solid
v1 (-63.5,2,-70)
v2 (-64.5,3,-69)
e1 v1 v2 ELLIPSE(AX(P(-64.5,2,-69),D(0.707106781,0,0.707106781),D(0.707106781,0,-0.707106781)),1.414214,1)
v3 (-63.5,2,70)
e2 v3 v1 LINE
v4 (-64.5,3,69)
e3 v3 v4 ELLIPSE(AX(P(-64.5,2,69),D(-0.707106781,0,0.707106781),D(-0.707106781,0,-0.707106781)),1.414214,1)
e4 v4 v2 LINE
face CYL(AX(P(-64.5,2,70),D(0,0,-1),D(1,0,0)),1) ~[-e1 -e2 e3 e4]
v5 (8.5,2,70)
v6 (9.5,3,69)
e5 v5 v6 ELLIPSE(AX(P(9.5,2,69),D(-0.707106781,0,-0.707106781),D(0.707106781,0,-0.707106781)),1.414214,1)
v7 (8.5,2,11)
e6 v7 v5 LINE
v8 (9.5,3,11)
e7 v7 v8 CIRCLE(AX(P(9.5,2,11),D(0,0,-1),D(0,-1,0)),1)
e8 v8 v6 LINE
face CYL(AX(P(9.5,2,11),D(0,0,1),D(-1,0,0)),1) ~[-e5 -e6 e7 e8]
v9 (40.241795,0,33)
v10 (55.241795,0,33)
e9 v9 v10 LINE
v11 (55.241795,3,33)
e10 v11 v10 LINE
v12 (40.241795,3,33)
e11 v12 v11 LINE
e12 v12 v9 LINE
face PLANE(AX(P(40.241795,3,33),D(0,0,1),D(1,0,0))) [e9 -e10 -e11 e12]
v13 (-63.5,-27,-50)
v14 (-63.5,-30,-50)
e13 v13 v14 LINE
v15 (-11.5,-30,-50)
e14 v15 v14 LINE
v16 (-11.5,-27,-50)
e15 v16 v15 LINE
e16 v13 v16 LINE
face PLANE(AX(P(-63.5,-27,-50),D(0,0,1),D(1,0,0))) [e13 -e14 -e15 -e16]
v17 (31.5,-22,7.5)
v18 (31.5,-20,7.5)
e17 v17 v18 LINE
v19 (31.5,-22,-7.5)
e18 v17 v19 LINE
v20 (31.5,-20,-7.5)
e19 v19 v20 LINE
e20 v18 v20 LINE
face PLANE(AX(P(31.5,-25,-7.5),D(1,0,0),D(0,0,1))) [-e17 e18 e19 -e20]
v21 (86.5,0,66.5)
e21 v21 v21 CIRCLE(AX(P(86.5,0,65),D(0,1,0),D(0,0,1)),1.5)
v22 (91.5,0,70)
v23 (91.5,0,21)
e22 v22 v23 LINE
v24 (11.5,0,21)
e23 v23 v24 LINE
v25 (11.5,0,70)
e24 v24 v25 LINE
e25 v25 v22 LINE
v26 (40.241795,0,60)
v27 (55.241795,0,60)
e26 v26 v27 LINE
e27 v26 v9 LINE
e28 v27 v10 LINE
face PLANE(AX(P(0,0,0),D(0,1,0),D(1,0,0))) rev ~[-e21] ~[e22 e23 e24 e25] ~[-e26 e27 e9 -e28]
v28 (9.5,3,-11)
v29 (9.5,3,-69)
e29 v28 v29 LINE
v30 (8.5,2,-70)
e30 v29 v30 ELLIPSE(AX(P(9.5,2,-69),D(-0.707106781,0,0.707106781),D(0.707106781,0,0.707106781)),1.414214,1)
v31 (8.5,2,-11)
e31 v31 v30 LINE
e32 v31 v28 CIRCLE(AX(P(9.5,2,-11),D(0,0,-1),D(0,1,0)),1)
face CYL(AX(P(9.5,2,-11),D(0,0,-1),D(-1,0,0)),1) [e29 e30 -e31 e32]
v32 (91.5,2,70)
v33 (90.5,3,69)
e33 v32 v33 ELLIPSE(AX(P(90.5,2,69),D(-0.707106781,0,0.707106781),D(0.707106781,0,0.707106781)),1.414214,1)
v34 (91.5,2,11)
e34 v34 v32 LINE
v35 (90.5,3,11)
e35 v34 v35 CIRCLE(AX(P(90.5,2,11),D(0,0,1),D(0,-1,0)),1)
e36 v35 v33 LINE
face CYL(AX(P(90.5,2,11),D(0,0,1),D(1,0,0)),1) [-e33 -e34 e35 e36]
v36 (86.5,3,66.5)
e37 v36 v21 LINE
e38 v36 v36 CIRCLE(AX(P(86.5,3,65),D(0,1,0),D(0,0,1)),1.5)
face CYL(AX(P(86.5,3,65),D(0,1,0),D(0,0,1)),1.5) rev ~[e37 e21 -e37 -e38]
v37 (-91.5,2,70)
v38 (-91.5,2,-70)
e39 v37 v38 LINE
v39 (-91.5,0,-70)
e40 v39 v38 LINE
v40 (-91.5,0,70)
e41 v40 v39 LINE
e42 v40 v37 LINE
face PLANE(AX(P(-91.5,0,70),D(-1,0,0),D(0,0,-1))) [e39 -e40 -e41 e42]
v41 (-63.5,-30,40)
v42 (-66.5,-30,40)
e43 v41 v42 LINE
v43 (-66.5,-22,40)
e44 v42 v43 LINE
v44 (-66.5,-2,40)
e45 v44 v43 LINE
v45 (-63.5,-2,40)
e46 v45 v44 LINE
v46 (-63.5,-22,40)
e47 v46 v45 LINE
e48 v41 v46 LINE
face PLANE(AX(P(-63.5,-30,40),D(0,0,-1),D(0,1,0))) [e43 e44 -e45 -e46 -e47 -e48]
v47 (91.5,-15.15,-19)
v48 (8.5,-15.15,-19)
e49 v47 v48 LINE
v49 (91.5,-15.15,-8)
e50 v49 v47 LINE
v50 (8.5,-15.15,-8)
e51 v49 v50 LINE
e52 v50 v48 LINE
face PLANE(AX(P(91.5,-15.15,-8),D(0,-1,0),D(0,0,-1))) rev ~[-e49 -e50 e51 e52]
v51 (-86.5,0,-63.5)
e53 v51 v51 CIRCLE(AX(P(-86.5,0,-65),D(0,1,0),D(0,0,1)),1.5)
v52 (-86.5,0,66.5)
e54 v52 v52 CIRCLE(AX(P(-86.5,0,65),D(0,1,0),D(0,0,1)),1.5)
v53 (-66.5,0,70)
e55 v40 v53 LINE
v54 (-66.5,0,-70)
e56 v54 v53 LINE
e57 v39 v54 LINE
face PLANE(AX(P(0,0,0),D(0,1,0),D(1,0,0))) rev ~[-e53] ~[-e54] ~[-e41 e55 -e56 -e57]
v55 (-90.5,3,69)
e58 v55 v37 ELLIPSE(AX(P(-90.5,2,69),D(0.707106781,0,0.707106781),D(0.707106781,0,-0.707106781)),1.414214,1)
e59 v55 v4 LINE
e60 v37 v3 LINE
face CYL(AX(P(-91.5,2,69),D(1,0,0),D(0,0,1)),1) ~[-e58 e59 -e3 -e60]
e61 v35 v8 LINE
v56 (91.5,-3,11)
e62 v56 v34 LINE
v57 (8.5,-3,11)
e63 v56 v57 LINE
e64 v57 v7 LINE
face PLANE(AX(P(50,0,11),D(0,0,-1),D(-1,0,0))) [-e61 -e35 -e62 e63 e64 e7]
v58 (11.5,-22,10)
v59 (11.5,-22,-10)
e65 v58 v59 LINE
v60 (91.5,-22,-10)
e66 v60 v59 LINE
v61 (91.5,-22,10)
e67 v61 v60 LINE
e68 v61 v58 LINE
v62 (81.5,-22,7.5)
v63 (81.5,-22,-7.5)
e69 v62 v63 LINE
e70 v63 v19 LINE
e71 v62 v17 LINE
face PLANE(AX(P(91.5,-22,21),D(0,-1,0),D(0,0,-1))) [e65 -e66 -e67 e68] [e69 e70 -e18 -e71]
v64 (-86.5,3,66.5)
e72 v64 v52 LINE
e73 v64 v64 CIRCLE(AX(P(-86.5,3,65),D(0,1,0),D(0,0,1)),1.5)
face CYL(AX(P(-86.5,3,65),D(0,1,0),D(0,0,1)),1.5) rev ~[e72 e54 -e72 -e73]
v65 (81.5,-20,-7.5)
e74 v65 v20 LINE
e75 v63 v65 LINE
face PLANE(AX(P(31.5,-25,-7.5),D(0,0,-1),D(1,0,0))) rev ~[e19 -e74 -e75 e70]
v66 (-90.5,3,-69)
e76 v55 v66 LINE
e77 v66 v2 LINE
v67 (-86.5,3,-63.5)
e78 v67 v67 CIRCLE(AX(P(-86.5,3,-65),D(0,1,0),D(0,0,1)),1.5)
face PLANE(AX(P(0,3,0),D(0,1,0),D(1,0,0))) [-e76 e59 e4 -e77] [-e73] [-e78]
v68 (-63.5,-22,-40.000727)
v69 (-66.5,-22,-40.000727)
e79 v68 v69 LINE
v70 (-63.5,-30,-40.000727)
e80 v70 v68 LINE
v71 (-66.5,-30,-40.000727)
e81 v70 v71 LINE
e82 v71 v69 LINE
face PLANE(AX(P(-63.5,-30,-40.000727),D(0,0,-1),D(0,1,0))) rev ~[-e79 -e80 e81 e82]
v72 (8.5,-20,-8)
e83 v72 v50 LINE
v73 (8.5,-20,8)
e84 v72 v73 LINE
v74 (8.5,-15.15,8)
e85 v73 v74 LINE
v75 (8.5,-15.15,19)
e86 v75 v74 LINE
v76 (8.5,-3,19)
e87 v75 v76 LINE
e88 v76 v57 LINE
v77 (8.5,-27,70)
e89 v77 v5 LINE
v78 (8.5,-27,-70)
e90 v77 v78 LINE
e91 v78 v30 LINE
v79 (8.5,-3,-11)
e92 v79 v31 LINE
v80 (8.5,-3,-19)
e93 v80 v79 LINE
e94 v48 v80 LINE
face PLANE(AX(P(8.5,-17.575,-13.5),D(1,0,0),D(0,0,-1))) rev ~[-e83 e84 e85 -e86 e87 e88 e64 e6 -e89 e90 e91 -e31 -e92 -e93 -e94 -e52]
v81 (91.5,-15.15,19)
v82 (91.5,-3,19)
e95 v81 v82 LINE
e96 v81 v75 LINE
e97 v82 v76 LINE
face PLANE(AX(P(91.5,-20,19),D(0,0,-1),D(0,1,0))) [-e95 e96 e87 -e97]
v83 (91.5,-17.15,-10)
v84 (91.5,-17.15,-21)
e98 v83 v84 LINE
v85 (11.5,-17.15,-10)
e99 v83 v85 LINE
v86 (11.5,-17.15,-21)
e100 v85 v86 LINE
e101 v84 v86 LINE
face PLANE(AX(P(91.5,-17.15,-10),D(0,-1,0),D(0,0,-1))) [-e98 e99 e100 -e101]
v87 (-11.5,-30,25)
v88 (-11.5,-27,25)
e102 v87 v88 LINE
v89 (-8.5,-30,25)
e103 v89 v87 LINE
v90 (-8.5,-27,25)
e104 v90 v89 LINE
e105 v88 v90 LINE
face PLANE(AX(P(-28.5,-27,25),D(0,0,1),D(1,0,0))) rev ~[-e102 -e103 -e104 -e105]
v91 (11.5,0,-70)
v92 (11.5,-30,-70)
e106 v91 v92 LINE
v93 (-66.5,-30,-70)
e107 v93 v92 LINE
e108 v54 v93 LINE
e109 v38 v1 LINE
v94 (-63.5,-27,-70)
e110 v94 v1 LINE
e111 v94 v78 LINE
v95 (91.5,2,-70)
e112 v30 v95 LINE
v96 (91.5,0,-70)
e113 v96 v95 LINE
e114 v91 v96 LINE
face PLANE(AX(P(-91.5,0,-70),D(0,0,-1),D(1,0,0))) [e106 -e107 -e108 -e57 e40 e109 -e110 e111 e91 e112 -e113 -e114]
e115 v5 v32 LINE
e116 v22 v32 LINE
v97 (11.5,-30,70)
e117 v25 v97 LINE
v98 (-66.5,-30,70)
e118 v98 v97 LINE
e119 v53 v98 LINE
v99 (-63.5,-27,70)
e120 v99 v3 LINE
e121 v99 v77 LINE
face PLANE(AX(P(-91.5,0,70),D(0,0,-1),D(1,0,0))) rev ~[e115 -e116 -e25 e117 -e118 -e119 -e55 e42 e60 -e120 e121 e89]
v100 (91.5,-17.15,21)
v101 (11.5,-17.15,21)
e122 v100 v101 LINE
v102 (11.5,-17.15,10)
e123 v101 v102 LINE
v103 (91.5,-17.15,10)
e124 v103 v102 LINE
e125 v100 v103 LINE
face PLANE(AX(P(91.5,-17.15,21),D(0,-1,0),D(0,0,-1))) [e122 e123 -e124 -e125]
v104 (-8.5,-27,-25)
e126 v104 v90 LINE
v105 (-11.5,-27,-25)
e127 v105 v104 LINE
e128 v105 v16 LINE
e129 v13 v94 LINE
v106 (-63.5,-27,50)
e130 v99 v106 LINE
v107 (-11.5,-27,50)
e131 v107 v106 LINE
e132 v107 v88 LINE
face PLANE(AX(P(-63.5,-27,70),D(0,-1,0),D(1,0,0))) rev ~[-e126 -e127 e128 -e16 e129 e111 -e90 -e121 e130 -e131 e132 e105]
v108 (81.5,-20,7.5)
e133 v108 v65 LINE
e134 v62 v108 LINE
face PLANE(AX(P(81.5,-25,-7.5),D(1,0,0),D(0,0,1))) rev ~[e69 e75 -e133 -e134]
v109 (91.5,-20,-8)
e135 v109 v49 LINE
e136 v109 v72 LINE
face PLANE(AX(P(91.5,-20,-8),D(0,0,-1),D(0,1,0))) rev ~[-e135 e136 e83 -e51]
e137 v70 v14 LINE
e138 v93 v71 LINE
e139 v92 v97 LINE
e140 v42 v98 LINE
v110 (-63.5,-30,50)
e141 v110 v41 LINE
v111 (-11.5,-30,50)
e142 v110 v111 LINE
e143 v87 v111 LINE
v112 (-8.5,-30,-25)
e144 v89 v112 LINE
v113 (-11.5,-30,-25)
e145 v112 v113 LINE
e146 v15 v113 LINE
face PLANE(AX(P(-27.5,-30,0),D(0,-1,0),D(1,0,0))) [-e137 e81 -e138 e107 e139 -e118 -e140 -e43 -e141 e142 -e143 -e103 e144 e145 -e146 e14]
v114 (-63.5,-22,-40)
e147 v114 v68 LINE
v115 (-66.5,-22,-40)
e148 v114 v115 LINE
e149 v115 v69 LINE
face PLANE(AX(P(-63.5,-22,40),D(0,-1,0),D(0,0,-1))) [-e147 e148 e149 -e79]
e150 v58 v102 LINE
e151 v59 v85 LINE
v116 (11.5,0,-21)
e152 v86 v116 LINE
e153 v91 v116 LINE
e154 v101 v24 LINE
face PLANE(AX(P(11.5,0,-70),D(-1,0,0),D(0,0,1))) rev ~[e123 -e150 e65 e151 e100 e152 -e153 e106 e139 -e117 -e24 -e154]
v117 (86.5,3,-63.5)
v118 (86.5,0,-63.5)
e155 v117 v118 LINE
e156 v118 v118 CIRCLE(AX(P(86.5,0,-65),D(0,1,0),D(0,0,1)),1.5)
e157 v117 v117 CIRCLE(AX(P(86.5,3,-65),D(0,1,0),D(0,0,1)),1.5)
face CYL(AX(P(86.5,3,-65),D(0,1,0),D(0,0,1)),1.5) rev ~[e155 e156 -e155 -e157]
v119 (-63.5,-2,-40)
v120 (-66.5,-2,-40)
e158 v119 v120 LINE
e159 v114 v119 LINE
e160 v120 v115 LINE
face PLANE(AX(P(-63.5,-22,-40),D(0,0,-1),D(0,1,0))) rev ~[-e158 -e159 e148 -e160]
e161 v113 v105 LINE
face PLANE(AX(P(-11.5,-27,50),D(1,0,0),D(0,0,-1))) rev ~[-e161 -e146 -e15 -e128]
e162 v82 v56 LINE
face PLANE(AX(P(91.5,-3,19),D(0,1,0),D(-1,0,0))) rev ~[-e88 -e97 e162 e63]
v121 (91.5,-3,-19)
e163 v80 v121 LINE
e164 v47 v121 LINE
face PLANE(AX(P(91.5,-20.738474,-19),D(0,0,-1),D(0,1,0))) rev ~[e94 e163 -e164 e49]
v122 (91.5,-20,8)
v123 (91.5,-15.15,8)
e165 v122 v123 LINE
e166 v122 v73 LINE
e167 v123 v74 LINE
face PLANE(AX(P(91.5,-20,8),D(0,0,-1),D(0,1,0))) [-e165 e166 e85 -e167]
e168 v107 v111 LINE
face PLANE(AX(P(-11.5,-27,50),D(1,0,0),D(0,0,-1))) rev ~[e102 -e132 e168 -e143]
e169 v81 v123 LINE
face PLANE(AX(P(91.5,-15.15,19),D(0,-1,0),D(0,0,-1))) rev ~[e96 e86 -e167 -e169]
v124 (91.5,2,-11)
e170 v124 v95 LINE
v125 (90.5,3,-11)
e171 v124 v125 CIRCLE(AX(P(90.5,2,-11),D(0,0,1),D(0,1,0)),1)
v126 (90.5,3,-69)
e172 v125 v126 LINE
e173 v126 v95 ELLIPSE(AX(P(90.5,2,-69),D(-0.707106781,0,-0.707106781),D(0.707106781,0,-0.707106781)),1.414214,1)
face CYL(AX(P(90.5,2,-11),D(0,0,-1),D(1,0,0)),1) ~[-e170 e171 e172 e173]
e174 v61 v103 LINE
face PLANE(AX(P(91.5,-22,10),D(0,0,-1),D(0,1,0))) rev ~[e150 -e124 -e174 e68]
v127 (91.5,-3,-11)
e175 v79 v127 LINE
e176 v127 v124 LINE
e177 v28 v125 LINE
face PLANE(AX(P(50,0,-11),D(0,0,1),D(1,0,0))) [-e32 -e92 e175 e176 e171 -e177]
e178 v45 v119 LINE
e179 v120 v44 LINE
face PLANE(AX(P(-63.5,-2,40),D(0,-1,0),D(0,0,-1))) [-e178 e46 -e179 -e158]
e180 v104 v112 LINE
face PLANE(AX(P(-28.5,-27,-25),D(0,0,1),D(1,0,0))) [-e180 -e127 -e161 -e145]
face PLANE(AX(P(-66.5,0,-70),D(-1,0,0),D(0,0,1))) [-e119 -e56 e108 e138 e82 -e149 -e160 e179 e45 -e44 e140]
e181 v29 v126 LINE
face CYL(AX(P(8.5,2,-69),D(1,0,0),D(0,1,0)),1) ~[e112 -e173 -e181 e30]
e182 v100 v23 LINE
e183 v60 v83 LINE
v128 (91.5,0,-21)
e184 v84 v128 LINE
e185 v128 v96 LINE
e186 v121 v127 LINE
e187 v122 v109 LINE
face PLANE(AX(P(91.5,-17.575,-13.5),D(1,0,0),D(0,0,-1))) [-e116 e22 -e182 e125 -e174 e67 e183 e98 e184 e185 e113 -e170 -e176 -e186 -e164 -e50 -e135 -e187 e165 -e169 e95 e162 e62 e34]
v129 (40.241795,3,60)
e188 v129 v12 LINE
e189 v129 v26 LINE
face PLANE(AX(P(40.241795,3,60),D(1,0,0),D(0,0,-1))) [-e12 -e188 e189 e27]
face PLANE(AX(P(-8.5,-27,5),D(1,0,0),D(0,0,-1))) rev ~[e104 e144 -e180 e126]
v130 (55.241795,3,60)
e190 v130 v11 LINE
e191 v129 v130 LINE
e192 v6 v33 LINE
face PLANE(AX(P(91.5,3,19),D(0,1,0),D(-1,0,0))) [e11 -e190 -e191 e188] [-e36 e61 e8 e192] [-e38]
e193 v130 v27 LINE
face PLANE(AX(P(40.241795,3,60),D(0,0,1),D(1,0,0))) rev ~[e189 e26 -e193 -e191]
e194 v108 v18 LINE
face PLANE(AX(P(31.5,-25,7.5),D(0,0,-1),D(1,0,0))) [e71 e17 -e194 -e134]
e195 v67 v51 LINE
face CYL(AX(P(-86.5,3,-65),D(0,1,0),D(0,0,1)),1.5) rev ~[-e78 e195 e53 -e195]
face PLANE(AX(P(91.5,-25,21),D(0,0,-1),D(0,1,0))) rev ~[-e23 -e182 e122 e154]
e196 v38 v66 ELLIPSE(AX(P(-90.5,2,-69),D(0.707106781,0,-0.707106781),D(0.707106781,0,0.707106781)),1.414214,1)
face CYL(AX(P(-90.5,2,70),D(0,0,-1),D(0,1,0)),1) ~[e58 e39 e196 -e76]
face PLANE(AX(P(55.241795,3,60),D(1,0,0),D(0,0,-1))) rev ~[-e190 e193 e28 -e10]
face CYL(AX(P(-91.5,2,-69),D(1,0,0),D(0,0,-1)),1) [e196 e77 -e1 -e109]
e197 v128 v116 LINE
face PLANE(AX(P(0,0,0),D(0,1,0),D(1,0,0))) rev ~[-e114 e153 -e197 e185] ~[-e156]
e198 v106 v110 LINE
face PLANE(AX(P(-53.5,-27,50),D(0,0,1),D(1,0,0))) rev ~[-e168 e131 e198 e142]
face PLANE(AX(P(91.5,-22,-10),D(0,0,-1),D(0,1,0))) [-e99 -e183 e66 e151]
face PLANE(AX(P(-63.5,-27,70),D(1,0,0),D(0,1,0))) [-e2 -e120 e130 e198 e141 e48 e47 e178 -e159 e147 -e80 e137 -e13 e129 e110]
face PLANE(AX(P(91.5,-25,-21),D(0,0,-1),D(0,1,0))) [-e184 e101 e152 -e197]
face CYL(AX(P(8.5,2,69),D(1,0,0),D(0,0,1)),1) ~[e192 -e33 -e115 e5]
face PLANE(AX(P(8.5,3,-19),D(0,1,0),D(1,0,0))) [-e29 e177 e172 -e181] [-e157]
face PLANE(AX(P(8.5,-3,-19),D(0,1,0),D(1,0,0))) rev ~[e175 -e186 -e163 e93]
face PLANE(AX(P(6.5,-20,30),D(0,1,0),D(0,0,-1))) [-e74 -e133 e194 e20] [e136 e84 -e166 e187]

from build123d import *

# Parameters (mm, degrees)
SKETCH1_W               = 183
SKETCH1_H               = 140
BOSS_EXTRUDE1_DEPTH     = 3
SKETCH2_W               = 78
SKETCH2_H               = 140
BOSS_EXTRUDE2_DEPTH     = 30
SKETCH3_W               = 72
SKETCH3_H               = 30
CUT_EXTRUDE1_DEPTH      = 140
SKETCH5_W               = 80
SKETCH5_H               = 70
BOSS_EXTRUDE3_DEPTH     = 25
CUT_EXTRUDE2_DEPTH      = 199.214530244
CUT_EXTRUDE2_DEPTH_BACK = 85
SKETCH7_W               = 20
SKETCH7_H               = 30
CUT_EXTRUDE3_DEPTH      = 85
SKETCH8_W               = 60
SKETCH8_H               = 20
CUT_EXTRUDE4_DEPTH      = 85
SKETCH9_W               = 50
SKETCH9_H               = 15
CUT_EXTRUDE5_DEPTH      = 10
SKETCH11_W              = 20
SKETCH11_H              = 20
CUT_EXTRUDE6_DEPTH      = 10
SKETCH12_W              = 20
SKETCH12_H              = 20
CUT_EXTRUDE7_DEPTH      = 10
SKETCH15_W              = 42
SKETCH15_H              = 100
CUT_EXTRUDE8_DEPTH      = 10
SKETCH16_W              = 13.088467217
SKETCH16_H              = 23
BOSS_EXTRUDE4_DEPTH     = 83
SKETCH17_W              = 13.301151585
SKETCH17_H              = 23.738473688
BOSS_EXTRUDE5_DEPTH     = 83
SKETCH18_W              = 83
SKETCH18_H              = 6
BOSS_EXTRUDE6_DEPTH     = 8
SKETCH19_W              = 83
SKETCH19_H              = 6
BOSS_EXTRUDE7_DEPTH     = 8
SKETCH20_W              = 14
SKETCH20_H              = 25
CUT_EXTRUDE9_DEPTH      = 80
SKETCH21_W              = 14
SKETCH21_H              = 25
CUT_EXTRUDE10_DEPTH     = 80
SKETCH22_W              = 42
SKETCH22_H              = 3
CUT_EXTRUDE11_DEPTH     = 80
SKETCH23_W              = 10
SKETCH23_H              = 100
CUT_EXTRUDE12_DEPTH     = 3
SKETCH24_W              = 80.000727439
SKETCH24_H              = 8
CUT_EXTRUDE13_DEPTH     = 3
SKETCH25_W              = 11
SKETCH25_H              = 4.85
BOSS_EXTRUDE9_DEPTH     = 83
SKETCH26_W              = 11
SKETCH26_H              = 4.85
BOSS_EXTRUDE10_DEPTH    = 83
SKETCH27_W              = 11
SKETCH27_H              = 4.85
CUT_EXTRUDE14_DEPTH     = 80
SKETCH28_W              = 11
SKETCH28_H              = 4.85
CUT_EXTRUDE15_DEPTH     = 80
SKETCH29_W              = 15
SKETCH29_H              = 27
CUT_EXTRUDE16_DEPTH     = 12
FILLET2_R               = 1
SKETCH30_R              = 1.5
CUT_EXTRUDE17_DEPTH     = 3
SKETCH31_R              = 1.5
CUT_EXTRUDE18_DEPTH     = 3
SKETCH32_R              = 1.5
CUT_EXTRUDE19_DEPTH     = 3
SKETCH33_R              = 1.5
CUT_EXTRUDE20_DEPTH     = 3


with BuildPart() as part:
    # Sketch1 → Boss-Extrude1 (new body)
    with BuildSketch(Plane(origin=(0, 0, 0), x_dir=(1, 0, 0), z_dir=(0, 1, 0))):
        Rectangle(SKETCH1_W, SKETCH1_H)
    extrude(amount=BOSS_EXTRUDE1_DEPTH)

    # Sketch2 → Boss-Extrude2 (add)
    with BuildSketch(Plane.XZ):
        with Locations((-27.5, 0)):
            Rectangle(SKETCH2_W, SKETCH2_H)
    extrude(amount=BOSS_EXTRUDE2_DEPTH)

    # Sketch3 → Cut-Extrude1 (cut)
    with BuildSketch(Plane.XY.offset(70)):
        with Locations((-27.5, -12)):
            Rectangle(SKETCH3_W, SKETCH3_H)
    extrude(amount=-CUT_EXTRUDE1_DEPTH, mode=Mode.SUBTRACT)

    # Sketch5 → Boss-Extrude3 (add)
    with BuildSketch(Plane.XZ):
        with Locations((51.5, 0)):
            Rectangle(SKETCH5_W, SKETCH5_H)
    extrude(amount=BOSS_EXTRUDE3_DEPTH)

    # Sketch6 → Cut-Extrude2 (cut, two sides: drawn at the far end of the back side and taken through both)
    with BuildSketch(Plane(origin=(91.5, 0, 0), x_dir=(0, 0, -1), z_dir=(1, 0, 0)).offset(-CUT_EXTRUDE2_DEPTH_BACK)):
        Polygon((-20, 204.718543704), (-20, 3), (-20, -4.67262363), (-30, -4.67262363), (-30, -20), (30, -20), (30, -4.67262363), (20, -4.67262363), (20, 3), (20, 204.718543704), (20, 608.155631112), (-20, 608.155631112), align=None)
    extrude(amount=CUT_EXTRUDE2_DEPTH + CUT_EXTRUDE2_DEPTH_BACK, mode=Mode.SUBTRACT)

    # Sketch7 → Cut-Extrude3 (cut)
    with BuildSketch(Plane(origin=(0, -27, 0), x_dir=(1, 0, 0), z_dir=(0, 1, 0))):
        with Locations((-18.5, 10)):
            Rectangle(SKETCH7_W, SKETCH7_H)
    extrude(amount=-CUT_EXTRUDE3_DEPTH, mode=Mode.SUBTRACT)

    # Sketch8 → Cut-Extrude4 (cut)
    with BuildSketch(Plane(origin=(-63.5, 0, 0), x_dir=(0, 0, -1), z_dir=(1, 0, 0))):
        with Locations((10, -12)):
            Rectangle(SKETCH8_W, SKETCH8_H)
    extrude(amount=-CUT_EXTRUDE4_DEPTH, mode=Mode.SUBTRACT)

    # Sketch9 → Cut-Extrude5 (cut)
    with BuildSketch(Plane.XZ.offset(25)):
        with Locations((56.5, 0)):
            Rectangle(SKETCH9_W, SKETCH9_H)
    extrude(amount=-CUT_EXTRUDE5_DEPTH, mode=Mode.SUBTRACT)

    # Sketch11 → Cut-Extrude6 (cut)
    with BuildSketch(Plane(origin=(-63.5, 0, 0), x_dir=(0, 0, -1), z_dir=(1, 0, 0))):
        with Locations((-30, -12)):
            Rectangle(SKETCH11_W, SKETCH11_H)
    extrude(amount=-CUT_EXTRUDE6_DEPTH, mode=Mode.SUBTRACT)

    # Sketch12 → Cut-Extrude7 (cut)
    with BuildSketch(Plane(origin=(0, -27, 0), x_dir=(1, 0, 0), z_dir=(0, 1, 0))):
        with Locations((-18.5, -15)):
            Rectangle(SKETCH12_W, SKETCH12_H)
    extrude(amount=-CUT_EXTRUDE7_DEPTH, mode=Mode.SUBTRACT)

    # Sketch15 → Cut-Extrude8 (cut)
    with BuildSketch(Plane(origin=(0, -27, 0), x_dir=(1, 0, 0), z_dir=(0, 1, 0))):
        with Locations((-32.5, 0)):
            Rectangle(SKETCH15_W, SKETCH15_H)
    extrude(amount=-CUT_EXTRUDE8_DEPTH, mode=Mode.SUBTRACT)

    # Sketch16 → Boss-Extrude4 (add)
    with BuildSketch(Plane(origin=(91.5, 0, 0), x_dir=(0, 0, -1), z_dir=(1, 0, 0))):
        with Locations((-25.544233609, -8.5)):
            Rectangle(SKETCH16_W, SKETCH16_H)
    extrude(amount=-BOSS_EXTRUDE4_DEPTH)

    # Sketch17 → Boss-Extrude5 (add)
    with BuildSketch(Plane(origin=(91.5, 0, 0), x_dir=(0, 0, -1), z_dir=(1, 0, 0))):
        with Locations((25.650575792, -8.869236844)):
            Rectangle(SKETCH17_W, SKETCH17_H)
    extrude(amount=-BOSS_EXTRUDE5_DEPTH)

    # Sketch18 → Boss-Extrude6 (add)
    with BuildSketch(Plane(origin=(0, 0, 19), x_dir=(-1, 0, 0), z_dir=(0, 0, -1))):
        with Locations((-50, 0)):
            Rectangle(SKETCH18_W, SKETCH18_H)
    extrude(amount=BOSS_EXTRUDE6_DEPTH)

    # Sketch19 → Boss-Extrude7 (add)
    with BuildSketch(Plane.XY.offset(-19)):
        with Locations((50, 0)):
            Rectangle(SKETCH19_W, SKETCH19_H)
    extrude(amount=BOSS_EXTRUDE7_DEPTH)

    # Sketch20 → Cut-Extrude9 (cut)
    with BuildSketch(Plane(origin=(91.5, 0, 0), x_dir=(0, 0, -1), z_dir=(1, 0, 0))):
        with Locations((-28, -12.5)):
            Rectangle(SKETCH20_W, SKETCH20_H)
    extrude(amount=-CUT_EXTRUDE9_DEPTH, mode=Mode.SUBTRACT)

    # Sketch21 → Cut-Extrude10 (cut)
    with BuildSketch(Plane(origin=(91.5, 0, 0), x_dir=(0, 0, -1), z_dir=(1, 0, 0))):
        with Locations((28, -12.5)):
            Rectangle(SKETCH21_W, SKETCH21_H)
    extrude(amount=-CUT_EXTRUDE10_DEPTH, mode=Mode.SUBTRACT)

    # Sketch22 → Cut-Extrude11 (cut)
    with BuildSketch(Plane(origin=(91.5, 0, 0), x_dir=(0, 0, -1), z_dir=(1, 0, 0))):
        with Locations((0, -23.5)):
            Rectangle(SKETCH22_W, SKETCH22_H)
    extrude(amount=-CUT_EXTRUDE11_DEPTH, mode=Mode.SUBTRACT)

    # Sketch23 → Cut-Extrude12 (cut)
    with BuildSketch(Plane(origin=(0, -27, 0), x_dir=(1, 0, 0), z_dir=(0, 1, 0))):
        with Locations((-58.5, 0)):
            Rectangle(SKETCH23_W, SKETCH23_H)
    extrude(amount=-CUT_EXTRUDE12_DEPTH, mode=Mode.SUBTRACT)

    # Sketch24 → Cut-Extrude13 (cut)
    with BuildSketch(Plane(origin=(-63.5, 0, 0), x_dir=(0, 0, -1), z_dir=(1, 0, 0))):
        with Locations((0.00036372, -26)):
            Rectangle(SKETCH24_W, SKETCH24_H)
    extrude(amount=-CUT_EXTRUDE13_DEPTH, mode=Mode.SUBTRACT)

    # Sketch25 → Boss-Extrude9 (add)
    with BuildSketch(Plane(origin=(91.5, 0, 0), x_dir=(0, 0, -1), z_dir=(1, 0, 0))):
        with Locations((-13.5, -17.575)):
            Rectangle(SKETCH25_W, SKETCH25_H)
    extrude(amount=-BOSS_EXTRUDE9_DEPTH)

    # Sketch26 → Boss-Extrude10 (add)
    with BuildSketch(Plane(origin=(91.5, 0, 0), x_dir=(0, 0, -1), z_dir=(1, 0, 0))):
        with Locations((13.5, -17.575)):
            Rectangle(SKETCH26_W, SKETCH26_H)
    extrude(amount=-BOSS_EXTRUDE10_DEPTH)

    # Sketch27 → Cut-Extrude14 (cut)
    with BuildSketch(Plane(origin=(91.5, 0, 0), x_dir=(0, 0, -1), z_dir=(1, 0, 0))):
        with Locations((-15.5, -19.575)):
            Rectangle(SKETCH27_W, SKETCH27_H)
    extrude(amount=-CUT_EXTRUDE14_DEPTH, mode=Mode.SUBTRACT)

    # Sketch28 → Cut-Extrude15 (cut)
    with BuildSketch(Plane(origin=(91.5, 0, 0), x_dir=(0, 0, -1), z_dir=(1, 0, 0))):
        with Locations((15.5, -19.575)):
            Rectangle(SKETCH28_W, SKETCH28_H)
    extrude(amount=-CUT_EXTRUDE15_DEPTH, mode=Mode.SUBTRACT)

    # Sketch29 → Cut-Extrude16 (cut)
    with BuildSketch(Plane(origin=(0, 3, 0), x_dir=(1, 0, 0), z_dir=(0, 1, 0))):
        with Locations((47.741795072, -46.5)):
            Rectangle(SKETCH29_W, SKETCH29_H)
    extrude(amount=-CUT_EXTRUDE16_DEPTH, mode=Mode.SUBTRACT)

    # Fillet2
    fillet2_edges = [part.edges().sort_by_distance(p)[0] for p in [
        (91.5, 3, 40.5),
        (50, 3, -70),
        (50, 3, 70),
        (-77.5, 3, -70),
        (-63.5, 3, 0),
        (8.5, 3, -40.5),
        (-91.5, 3, 0),
        (8.5, 3, 40.5),
        (91.5, 3, -40.5),
        (-77.5, 3, 70),
    ]]
    fillet(fillet2_edges, radius=FILLET2_R)

    # Sketch30 → Cut-Extrude17 (cut)
    with BuildSketch(Plane(origin=(0, 3, 0), x_dir=(1, 0, 0), z_dir=(0, 1, 0))):
        with Locations(Location((-86.5, -65, 0), (0, 0, 270))):
            Circle(SKETCH30_R)
    extrude(amount=-CUT_EXTRUDE17_DEPTH, mode=Mode.SUBTRACT)

    # Sketch31 → Cut-Extrude18 (cut)
    with BuildSketch(Plane(origin=(0, 3, 0), x_dir=(1, 0, 0), z_dir=(0, 1, 0))):
        with Locations(Location((-86.5, 65, 0), (0, 0, 270))):
            Circle(SKETCH31_R)
    extrude(amount=-CUT_EXTRUDE18_DEPTH, mode=Mode.SUBTRACT)

    # Sketch32 → Cut-Extrude19 (cut)
    with BuildSketch(Plane(origin=(0, 3, 0), x_dir=(1, 0, 0), z_dir=(0, 1, 0))):
        with Locations(Location((86.5, 65, 0), (0, 0, 270))):
            Circle(SKETCH32_R)
    extrude(amount=-CUT_EXTRUDE19_DEPTH, mode=Mode.SUBTRACT)

    # Sketch33 → Cut-Extrude20 (cut)
    with BuildSketch(Plane(origin=(0, 3, 0), x_dir=(1, 0, 0), z_dir=(0, 1, 0))):
        with Locations(Location((86.5, -65, 0), (0, 0, 270))):
            Circle(SKETCH33_R)
    extrude(amount=-CUT_EXTRUDE20_DEPTH, mode=Mode.SUBTRACT)


solid = part.part
